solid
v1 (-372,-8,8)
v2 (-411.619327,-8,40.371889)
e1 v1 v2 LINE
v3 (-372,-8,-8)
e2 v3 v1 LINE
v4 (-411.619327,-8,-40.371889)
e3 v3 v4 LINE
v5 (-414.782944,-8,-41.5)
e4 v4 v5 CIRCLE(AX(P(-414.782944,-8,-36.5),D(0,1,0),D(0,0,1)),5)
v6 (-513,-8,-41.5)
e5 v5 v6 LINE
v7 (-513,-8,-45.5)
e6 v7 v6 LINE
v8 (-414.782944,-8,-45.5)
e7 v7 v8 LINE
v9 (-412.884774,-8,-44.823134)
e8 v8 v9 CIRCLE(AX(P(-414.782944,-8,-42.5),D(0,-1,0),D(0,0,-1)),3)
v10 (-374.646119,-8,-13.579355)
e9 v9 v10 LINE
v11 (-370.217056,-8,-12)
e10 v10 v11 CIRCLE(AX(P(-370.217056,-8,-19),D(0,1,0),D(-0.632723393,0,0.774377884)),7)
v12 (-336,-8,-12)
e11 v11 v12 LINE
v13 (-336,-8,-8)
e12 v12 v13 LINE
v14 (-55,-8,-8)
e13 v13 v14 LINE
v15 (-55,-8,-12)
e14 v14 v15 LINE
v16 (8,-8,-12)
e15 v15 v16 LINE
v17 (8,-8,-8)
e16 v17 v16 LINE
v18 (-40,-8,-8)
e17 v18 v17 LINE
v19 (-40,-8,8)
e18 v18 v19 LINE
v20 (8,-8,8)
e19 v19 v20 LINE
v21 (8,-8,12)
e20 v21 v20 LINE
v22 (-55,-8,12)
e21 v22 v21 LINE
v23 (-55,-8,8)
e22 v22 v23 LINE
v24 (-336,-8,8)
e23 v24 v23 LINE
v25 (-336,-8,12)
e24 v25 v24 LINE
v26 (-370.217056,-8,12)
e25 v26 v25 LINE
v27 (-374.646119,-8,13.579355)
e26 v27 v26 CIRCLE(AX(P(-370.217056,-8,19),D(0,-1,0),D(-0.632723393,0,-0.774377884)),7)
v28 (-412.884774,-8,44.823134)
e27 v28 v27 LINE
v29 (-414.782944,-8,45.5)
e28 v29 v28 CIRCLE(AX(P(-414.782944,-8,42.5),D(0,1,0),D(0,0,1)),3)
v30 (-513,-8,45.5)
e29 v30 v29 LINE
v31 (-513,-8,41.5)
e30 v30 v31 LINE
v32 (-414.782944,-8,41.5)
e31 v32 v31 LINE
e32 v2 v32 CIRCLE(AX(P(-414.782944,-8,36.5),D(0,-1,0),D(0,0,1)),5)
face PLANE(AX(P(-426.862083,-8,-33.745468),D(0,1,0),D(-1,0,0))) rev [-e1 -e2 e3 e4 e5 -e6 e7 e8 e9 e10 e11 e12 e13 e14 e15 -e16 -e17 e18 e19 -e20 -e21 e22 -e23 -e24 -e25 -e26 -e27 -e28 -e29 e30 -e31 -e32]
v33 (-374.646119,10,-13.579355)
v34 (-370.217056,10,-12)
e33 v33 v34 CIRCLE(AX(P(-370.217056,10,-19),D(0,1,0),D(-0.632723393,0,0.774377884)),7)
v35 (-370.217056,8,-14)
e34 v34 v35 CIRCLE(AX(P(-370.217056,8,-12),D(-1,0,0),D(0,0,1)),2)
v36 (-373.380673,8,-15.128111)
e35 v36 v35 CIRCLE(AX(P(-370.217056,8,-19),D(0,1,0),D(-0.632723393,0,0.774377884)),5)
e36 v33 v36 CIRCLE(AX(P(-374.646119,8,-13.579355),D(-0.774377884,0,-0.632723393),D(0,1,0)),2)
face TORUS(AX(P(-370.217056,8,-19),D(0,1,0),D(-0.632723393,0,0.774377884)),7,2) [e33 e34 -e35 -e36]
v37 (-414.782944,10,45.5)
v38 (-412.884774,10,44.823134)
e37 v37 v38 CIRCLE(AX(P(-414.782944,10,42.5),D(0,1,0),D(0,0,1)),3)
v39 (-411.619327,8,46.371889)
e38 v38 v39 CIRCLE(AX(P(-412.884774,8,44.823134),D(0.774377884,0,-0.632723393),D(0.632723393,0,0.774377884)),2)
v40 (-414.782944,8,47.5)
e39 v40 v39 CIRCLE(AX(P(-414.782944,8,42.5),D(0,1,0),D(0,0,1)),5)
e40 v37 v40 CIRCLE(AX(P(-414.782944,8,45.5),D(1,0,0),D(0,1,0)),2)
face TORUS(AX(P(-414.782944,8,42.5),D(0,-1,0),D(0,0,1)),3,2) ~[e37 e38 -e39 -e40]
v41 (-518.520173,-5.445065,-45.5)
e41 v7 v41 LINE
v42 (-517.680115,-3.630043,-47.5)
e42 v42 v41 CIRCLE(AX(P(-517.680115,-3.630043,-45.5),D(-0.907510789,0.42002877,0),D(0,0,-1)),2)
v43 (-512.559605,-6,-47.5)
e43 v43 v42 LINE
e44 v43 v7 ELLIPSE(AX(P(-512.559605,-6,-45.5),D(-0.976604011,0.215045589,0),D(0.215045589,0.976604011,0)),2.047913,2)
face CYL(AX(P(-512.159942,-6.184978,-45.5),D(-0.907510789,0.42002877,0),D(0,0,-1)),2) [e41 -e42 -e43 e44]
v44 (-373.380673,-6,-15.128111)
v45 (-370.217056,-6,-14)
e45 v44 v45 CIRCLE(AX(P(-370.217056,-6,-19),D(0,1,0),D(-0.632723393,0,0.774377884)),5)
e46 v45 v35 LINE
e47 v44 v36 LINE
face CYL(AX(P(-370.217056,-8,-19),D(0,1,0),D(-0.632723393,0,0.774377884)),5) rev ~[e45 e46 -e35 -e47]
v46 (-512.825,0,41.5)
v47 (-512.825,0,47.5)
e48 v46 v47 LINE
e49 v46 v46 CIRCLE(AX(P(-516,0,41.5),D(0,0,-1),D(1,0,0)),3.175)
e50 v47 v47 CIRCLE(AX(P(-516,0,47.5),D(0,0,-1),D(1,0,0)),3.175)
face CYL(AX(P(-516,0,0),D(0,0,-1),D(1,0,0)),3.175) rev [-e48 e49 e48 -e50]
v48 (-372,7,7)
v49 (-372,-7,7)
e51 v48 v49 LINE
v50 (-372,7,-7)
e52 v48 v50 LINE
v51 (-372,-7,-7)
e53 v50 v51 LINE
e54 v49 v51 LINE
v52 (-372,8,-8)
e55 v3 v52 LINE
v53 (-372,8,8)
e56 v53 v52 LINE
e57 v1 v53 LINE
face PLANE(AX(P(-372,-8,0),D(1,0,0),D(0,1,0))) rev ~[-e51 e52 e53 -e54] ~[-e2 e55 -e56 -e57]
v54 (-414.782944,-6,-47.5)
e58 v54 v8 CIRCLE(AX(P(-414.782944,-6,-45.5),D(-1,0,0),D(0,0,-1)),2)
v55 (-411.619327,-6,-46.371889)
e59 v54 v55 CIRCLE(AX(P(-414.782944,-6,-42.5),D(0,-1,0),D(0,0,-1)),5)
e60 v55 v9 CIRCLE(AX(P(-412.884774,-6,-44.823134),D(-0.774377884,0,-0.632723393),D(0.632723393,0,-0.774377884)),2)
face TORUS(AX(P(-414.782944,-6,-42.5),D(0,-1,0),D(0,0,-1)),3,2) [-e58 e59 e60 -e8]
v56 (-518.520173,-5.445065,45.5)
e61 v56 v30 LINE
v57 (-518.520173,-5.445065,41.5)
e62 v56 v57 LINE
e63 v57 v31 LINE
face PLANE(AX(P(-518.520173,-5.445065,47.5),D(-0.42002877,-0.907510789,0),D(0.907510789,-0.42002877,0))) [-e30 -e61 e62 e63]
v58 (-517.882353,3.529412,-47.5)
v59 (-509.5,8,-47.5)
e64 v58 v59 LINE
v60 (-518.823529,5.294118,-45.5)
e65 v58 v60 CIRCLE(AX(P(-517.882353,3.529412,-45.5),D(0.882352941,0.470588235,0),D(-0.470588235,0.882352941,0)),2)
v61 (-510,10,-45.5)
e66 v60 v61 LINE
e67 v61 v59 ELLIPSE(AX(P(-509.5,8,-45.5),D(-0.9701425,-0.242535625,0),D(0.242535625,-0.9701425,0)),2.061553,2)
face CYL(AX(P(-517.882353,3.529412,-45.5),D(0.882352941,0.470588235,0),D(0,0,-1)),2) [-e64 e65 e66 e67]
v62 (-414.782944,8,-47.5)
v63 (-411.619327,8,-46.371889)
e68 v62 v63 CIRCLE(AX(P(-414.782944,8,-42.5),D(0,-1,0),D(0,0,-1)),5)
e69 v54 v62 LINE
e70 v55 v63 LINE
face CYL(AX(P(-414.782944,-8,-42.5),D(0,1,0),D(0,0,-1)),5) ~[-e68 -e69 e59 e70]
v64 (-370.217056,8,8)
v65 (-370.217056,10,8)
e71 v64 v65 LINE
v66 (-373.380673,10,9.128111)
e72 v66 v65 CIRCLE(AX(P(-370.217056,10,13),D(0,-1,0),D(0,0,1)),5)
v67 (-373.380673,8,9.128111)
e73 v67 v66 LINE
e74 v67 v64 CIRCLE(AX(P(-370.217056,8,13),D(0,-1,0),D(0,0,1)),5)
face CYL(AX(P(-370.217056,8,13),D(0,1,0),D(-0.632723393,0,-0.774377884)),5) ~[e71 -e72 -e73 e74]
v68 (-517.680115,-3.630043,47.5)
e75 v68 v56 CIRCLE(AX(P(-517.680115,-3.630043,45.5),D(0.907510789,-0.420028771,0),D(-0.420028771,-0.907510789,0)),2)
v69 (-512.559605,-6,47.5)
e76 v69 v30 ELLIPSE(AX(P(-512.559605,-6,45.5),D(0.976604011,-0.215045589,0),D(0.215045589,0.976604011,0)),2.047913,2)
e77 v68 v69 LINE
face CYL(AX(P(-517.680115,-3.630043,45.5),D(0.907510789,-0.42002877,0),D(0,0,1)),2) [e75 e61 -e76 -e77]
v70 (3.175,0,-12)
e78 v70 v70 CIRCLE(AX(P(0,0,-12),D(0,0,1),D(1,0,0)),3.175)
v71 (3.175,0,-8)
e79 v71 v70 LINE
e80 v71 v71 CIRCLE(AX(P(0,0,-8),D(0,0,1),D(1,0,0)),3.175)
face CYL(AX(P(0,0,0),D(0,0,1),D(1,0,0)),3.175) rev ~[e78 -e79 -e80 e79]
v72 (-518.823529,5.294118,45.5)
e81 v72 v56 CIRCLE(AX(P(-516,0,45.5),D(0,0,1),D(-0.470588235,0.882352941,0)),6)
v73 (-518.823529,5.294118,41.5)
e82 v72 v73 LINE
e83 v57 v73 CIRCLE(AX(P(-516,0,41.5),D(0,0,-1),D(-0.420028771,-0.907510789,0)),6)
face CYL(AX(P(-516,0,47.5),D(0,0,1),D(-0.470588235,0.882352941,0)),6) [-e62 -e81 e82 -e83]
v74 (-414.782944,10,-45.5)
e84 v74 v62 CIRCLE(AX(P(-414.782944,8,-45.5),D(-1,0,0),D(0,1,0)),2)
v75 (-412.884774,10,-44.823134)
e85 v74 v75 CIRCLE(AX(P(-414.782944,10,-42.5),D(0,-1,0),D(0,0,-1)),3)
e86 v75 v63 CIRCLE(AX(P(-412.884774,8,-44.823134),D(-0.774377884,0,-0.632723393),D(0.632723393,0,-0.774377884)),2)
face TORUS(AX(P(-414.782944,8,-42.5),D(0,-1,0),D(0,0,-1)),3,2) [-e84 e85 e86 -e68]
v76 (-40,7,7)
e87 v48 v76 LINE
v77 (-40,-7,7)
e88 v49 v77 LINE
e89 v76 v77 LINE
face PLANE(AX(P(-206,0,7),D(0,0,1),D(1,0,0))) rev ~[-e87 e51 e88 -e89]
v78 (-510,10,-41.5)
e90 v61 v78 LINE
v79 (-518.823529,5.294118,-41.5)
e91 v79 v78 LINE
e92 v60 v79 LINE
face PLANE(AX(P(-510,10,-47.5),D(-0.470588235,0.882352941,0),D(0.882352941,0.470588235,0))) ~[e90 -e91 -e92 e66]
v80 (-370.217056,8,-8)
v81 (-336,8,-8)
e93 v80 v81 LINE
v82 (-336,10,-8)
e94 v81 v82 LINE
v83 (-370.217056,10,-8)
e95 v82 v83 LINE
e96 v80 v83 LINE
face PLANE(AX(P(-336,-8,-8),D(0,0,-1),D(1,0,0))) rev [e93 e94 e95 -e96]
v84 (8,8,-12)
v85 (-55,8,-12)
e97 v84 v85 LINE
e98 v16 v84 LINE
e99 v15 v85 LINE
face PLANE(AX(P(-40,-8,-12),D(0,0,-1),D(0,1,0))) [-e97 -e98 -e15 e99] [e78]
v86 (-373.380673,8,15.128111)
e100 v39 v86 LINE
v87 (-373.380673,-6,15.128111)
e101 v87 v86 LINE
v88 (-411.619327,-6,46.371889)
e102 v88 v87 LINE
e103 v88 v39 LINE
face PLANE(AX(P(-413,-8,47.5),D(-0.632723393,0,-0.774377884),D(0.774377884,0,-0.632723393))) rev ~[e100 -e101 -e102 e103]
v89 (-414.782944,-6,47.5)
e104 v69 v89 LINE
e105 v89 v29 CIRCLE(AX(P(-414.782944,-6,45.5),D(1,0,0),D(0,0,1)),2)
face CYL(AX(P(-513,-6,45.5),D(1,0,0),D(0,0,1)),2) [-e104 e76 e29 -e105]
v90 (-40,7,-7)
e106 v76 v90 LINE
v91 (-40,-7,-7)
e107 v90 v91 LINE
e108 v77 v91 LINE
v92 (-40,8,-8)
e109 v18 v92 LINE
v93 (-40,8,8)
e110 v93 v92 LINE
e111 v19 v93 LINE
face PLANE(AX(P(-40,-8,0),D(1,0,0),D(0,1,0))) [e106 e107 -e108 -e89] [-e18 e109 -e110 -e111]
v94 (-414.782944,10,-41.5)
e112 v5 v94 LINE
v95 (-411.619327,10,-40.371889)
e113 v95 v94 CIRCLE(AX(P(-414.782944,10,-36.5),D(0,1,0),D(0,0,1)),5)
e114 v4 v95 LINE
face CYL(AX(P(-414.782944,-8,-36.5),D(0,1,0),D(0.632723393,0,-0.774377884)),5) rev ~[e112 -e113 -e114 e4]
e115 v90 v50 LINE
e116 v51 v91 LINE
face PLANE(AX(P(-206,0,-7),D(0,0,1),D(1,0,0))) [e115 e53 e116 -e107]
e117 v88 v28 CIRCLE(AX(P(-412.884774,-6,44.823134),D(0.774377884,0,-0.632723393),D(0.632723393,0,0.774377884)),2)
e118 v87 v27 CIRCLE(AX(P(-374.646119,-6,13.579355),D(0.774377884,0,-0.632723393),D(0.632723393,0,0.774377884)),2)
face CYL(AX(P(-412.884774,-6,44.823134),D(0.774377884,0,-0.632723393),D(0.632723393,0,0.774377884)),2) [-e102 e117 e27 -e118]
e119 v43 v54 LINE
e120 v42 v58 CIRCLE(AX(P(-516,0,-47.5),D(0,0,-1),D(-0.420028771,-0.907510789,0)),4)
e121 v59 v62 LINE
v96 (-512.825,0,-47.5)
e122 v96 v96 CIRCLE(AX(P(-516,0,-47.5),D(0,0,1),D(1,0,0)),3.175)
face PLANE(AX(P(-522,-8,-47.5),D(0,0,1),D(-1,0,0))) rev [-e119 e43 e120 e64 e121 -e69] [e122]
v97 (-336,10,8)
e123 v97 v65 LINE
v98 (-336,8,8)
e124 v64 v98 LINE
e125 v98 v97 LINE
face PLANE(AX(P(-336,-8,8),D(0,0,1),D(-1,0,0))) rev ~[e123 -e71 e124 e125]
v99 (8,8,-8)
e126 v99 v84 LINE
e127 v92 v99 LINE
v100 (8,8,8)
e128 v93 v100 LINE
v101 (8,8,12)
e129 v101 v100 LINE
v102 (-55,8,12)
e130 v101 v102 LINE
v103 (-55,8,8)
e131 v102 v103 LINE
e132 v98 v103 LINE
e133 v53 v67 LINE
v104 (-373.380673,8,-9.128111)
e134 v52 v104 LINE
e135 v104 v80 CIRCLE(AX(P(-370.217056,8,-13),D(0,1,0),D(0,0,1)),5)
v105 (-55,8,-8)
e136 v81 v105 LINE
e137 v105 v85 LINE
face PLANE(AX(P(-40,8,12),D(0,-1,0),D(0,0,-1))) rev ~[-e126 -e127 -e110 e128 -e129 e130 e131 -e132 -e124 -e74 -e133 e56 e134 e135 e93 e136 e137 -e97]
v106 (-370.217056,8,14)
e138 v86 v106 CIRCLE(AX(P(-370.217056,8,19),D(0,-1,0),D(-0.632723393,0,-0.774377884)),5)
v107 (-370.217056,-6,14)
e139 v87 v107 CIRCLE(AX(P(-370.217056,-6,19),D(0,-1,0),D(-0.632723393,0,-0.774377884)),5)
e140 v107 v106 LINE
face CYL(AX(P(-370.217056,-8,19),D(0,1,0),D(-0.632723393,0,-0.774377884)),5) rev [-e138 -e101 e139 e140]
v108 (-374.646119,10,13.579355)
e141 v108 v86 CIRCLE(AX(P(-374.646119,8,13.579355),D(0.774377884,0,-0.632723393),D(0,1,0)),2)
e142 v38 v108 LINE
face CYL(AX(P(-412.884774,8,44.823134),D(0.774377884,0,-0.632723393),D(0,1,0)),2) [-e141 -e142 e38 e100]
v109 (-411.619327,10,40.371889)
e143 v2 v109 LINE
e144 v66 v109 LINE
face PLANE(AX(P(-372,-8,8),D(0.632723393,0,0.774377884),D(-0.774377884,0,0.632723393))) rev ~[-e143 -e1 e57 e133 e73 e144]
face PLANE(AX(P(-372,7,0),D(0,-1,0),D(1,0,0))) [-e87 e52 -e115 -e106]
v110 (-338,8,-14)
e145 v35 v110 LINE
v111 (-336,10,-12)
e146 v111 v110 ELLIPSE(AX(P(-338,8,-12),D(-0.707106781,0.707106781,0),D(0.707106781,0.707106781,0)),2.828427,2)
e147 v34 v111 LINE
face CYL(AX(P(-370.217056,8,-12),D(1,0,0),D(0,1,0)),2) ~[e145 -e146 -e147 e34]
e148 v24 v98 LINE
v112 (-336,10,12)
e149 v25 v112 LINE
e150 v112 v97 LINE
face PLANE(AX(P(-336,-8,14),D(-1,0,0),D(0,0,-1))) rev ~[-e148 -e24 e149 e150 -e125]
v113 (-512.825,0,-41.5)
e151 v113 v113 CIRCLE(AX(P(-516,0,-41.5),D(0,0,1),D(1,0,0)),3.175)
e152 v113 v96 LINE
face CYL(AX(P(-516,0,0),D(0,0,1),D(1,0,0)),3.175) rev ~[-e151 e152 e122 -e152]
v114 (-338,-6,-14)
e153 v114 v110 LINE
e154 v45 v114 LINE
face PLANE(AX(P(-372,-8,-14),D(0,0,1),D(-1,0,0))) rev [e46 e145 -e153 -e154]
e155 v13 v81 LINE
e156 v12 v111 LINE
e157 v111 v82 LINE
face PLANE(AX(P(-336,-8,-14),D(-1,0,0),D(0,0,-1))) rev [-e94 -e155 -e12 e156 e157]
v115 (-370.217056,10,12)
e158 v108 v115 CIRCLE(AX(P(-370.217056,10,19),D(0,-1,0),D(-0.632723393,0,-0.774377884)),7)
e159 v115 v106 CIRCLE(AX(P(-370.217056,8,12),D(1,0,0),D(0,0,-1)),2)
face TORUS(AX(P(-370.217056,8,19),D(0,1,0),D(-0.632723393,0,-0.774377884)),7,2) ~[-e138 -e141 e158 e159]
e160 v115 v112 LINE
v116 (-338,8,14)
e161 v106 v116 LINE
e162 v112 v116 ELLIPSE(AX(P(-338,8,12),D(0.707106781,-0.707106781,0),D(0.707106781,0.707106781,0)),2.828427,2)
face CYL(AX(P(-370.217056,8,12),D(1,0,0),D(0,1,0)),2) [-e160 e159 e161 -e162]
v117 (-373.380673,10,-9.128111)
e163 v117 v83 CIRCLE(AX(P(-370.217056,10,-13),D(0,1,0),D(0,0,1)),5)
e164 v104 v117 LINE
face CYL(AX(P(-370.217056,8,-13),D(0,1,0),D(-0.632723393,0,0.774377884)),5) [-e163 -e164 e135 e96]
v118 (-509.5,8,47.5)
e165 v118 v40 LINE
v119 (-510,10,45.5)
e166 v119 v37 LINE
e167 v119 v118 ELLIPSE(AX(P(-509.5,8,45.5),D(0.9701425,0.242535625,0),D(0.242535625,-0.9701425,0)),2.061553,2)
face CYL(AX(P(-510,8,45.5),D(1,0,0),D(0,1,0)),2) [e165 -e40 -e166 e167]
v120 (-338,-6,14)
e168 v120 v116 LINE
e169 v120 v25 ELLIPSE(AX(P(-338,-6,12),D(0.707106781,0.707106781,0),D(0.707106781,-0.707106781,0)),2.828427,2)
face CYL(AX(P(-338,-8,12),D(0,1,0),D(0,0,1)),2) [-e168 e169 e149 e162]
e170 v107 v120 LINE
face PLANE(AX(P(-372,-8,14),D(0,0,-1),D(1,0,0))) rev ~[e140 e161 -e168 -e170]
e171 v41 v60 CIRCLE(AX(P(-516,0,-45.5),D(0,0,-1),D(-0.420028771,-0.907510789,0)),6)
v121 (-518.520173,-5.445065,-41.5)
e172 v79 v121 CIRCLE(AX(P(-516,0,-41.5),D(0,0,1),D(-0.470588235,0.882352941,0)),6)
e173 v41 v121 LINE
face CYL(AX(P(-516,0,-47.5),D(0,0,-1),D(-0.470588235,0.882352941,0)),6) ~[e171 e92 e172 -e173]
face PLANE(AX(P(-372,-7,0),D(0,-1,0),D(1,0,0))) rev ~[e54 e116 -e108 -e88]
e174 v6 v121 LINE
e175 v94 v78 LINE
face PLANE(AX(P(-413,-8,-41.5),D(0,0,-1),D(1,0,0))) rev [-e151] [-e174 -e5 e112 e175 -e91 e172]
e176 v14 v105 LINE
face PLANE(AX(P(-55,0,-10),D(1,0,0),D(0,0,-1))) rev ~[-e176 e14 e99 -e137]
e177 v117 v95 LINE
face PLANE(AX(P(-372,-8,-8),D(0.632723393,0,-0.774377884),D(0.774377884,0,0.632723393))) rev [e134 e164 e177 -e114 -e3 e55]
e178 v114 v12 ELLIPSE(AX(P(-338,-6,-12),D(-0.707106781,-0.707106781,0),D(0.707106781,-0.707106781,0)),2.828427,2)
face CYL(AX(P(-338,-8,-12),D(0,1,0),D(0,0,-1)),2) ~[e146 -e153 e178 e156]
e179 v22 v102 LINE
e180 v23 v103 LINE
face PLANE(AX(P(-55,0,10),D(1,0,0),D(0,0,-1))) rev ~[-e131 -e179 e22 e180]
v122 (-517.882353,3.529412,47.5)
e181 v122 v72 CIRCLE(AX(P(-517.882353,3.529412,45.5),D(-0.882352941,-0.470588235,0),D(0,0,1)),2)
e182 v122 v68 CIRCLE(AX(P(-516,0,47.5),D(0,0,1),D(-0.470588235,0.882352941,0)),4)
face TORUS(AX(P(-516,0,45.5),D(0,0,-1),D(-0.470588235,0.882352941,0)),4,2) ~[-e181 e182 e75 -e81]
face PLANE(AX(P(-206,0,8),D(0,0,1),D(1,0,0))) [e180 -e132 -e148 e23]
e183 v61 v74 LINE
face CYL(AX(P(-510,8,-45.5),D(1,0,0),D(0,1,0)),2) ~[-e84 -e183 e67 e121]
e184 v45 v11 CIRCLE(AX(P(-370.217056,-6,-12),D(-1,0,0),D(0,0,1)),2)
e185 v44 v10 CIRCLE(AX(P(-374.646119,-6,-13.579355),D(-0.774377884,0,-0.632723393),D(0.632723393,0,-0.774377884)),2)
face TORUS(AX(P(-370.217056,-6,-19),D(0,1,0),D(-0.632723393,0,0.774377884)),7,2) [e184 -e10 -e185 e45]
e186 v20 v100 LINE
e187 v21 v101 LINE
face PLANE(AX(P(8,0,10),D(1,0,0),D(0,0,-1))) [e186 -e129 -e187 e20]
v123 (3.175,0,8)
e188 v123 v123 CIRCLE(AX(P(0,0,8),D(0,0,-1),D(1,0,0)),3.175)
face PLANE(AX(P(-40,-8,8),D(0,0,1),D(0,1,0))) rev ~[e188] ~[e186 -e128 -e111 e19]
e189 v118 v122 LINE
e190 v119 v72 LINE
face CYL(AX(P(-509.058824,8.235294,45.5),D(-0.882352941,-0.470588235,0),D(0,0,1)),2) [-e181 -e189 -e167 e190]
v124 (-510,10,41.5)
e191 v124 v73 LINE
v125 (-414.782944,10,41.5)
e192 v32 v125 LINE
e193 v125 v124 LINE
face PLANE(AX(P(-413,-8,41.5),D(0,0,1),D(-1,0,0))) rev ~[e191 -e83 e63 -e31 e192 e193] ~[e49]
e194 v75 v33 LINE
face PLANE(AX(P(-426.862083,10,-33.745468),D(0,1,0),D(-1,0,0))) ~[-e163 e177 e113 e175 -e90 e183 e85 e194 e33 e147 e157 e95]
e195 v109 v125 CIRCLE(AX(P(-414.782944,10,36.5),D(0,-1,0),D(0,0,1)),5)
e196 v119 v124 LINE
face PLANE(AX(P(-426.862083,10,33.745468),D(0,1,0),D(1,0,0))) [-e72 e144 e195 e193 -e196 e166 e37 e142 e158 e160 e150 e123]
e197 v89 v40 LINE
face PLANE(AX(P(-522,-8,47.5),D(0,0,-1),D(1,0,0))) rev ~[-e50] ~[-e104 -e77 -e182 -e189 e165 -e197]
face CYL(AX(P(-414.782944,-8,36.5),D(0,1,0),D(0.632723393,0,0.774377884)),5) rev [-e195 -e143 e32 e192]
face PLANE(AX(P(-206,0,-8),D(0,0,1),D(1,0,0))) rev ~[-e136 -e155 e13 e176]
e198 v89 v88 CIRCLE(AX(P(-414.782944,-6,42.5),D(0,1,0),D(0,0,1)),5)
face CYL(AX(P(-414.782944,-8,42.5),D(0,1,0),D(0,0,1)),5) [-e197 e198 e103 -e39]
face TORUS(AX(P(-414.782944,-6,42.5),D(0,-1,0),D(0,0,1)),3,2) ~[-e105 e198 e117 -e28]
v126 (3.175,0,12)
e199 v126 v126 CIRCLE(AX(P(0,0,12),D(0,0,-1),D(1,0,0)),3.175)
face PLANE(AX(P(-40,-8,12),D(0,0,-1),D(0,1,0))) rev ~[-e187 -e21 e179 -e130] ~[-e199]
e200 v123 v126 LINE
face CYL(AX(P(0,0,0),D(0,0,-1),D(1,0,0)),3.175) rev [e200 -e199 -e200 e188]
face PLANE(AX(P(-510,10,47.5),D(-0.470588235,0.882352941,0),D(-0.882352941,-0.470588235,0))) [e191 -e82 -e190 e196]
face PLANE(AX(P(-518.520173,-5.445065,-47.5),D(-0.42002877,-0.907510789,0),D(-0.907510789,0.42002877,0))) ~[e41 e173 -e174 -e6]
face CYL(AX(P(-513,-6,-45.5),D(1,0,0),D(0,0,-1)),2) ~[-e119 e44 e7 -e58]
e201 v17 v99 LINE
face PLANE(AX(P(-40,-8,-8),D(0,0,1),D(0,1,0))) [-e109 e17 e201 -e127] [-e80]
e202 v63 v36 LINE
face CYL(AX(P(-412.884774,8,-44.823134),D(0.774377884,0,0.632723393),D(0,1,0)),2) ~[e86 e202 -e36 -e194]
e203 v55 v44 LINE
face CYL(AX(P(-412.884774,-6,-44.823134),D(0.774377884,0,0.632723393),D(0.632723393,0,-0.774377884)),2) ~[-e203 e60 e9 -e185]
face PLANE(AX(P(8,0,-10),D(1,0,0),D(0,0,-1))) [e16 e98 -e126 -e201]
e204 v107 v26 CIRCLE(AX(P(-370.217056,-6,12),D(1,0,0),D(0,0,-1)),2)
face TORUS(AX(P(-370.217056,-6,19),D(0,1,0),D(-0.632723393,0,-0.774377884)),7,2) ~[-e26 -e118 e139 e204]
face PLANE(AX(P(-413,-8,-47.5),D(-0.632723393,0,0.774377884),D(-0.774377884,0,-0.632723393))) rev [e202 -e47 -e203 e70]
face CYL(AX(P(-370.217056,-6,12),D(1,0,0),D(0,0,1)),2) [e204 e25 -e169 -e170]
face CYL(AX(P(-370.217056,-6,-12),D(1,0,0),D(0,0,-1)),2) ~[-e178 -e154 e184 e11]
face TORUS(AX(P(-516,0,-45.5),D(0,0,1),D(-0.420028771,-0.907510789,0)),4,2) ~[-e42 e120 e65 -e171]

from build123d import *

# Parameters (mm, degrees)
SKETCH1_W                = 332
SKETCH1_H                = 16
BOSS_EXTRUDE1_DEPTH      = 8
SHELL1_T                 = -1
SKETCH2_W                = 4
SKETCH2_H                = 16
BOSS_EXTRUDE2_DEPTH      = 48
BOSS_EXTRUDE2_DEPTH_BACK = 15
BOSS_EXTRUDE3_START      = -16
BOSS_EXTRUDE3_DEPTH      = 18
CUT_EXTRUDE1_DEPTH       = 40
FILLET1_R                = 5
FILLET2_R                = 2
FILLET1_OF_MIRROR1_R     = 5
FILLET2_OF_MIRROR1_R     = 2
SKETCH1_3_R              = 3.175
CUT_EXTRUDE2_DEPTH       = 48.5
CUT_EXTRUDE2_DEPTH_BACK  = 48.5


with BuildPart() as part:
    # Sketch1 → Boss-Extrude1 (new body, symmetric)
    with BuildSketch(Plane.XY):
        with Locations((-206, 0)):
            Rectangle(SKETCH1_W, SKETCH1_H)
    extrude(amount=BOSS_EXTRUDE1_DEPTH, both=True)

    # Shell1
    shell1_openings = [part.faces().sort_by_distance(p)[0] for p in [
        (-40, 0, 0),
        (-372, 0, 0),
    ]]
    offset(amount=SHELL1_T, openings=shell1_openings, kind=Kind.INTERSECTION)

    # Sketch2 → Boss-Extrude2 (add, two sides)
    with BuildSketch(Plane(origin=(-40, 0, 0), x_dir=(0, 0, -1), z_dir=(1, 0, 0))) as boss_extrude2_sk:
        with Locations((-10, 0)):
            Rectangle(SKETCH2_W, SKETCH2_H)
        with Locations((10, 0)):
            Rectangle(SKETCH2_W, SKETCH2_H)
    extrude(amount=BOSS_EXTRUDE2_DEPTH)
    extrude(boss_extrude2_sk.sketch, amount=-BOSS_EXTRUDE2_DEPTH_BACK)

    # Sketch3 → Boss-Extrude3 (add)
    with BuildSketch(Plane(origin=(0, 8, 0), x_dir=(1, 0, 0), z_dir=(0, 1, 0)).offset(BOSS_EXTRUDE3_START)):
        Polygon((-336, -14), (-336, -8), (-372, -8), (-413, -41.5), (-522, -41.5), (-522, -47.5), (-413, -47.5), (-372, -14), align=None)
    boss_extrude3 = extrude(amount=BOSS_EXTRUDE3_DEPTH)

    # Sketch4 → Cut-Extrude1 (cut)
    with BuildSketch(Plane.XY.offset(47.5)):
        with BuildLine():
            Line((-510, 10), (-518.823529412, 5.294117647))
            ThreePointArc((-518.823529412, 5.294117647), (-521.99760764, -0.169418391), (-518.520172623, -5.445064733))
            Line((-518.520172623, -5.445064733), (-513, -8))
            Line((-513, -8), (-540.277730866, -26.369352849))
            Line((-540.277730866, -26.369352849), (-542.314823198, 28.070412495))
            Line((-542.314823198, 28.070412495), (-510, 10))
        make_face()
    cut_extrude1 = extrude(amount=-CUT_EXTRUDE1_DEPTH, mode=Mode.SUBTRACT)

    # Fillet1
    fillet1_edges = [part.edges().sort_by_distance(p)[0] for p in [
        (-413, 1, 41.5),
        (-413, 1, 47.5),
        (-372, 1, 14),
        (-372, 9, 8),
    ]]
    fillet(fillet1_edges, radius=FILLET1_R)

    # Fillet2
    fillet2_edges = [part.edges().sort_by_distance(p)[0] for p in [
        (-462.391472159, 10, 47.5),
        (-392.5, 10, 30.75),
        (-413.103576447, 10, 47.209535386),
        (-353.108527841, -8, 14),
        (-392.5, -8, 30.75),
        (-413.103576447, -8, 47.209535386),
        (-371.896423553, -8, 14.290464614),
        (-371.896423553, 10, 14.290464614),
        (-353.108527841, 10, 14),
        (-336, 1, 14),
        (-463.891472159, -8, 47.5),
        (-521.99760764, -0.169418391, 47.5),
        (-514.411764706, 7.647058824, 47.5),
        (-515.760086311, -6.722532367, 47.5),
    ]]
    fillet(fillet2_edges, radius=FILLET2_R)

    # Mirror1: Boss-Extrude3, Cut-Extrude1 across plane
    add(boss_extrude3.mirror(Plane.XY))
    add(cut_extrude1.mirror(Plane.XY), mode=Mode.SUBTRACT)

    # Fillet1 of Mirror1
    fillet1_of_mirror1_edges = [part.edges().sort_by_distance(p)[0] for p in [
        (-413, 1, -41.5),
        (-413, 1, -47.5),
        (-372, 1, -14),
        (-372, 9, -8),
    ]]
    fillet(fillet1_of_mirror1_edges, radius=FILLET1_OF_MIRROR1_R)

    # Fillet2 of Mirror1
    fillet2_of_mirror1_edges = [part.edges().sort_by_distance(p)[0] for p in [
        (-462.391472159, 10, -47.5),
        (-392.5, 10, -30.75),
        (-413.103576447, 10, -47.209535386),
        (-353.108527841, -8, -14),
        (-392.5, -8, -30.75),
        (-413.103576447, -8, -47.209535386),
        (-371.896423553, -8, -14.290464614),
        (-371.896423553, 10, -14.290464614),
        (-353.108527841, 10, -14),
        (-336, 1, -14),
        (-463.891472159, -8, -47.5),
        (-521.99760764, -0.169418391, -47.5),
        (-514.411764706, 7.647058824, -47.5),
        (-515.760086311, -6.722532367, -47.5),
    ]]
    fillet(fillet2_of_mirror1_edges, radius=FILLET2_OF_MIRROR1_R)

    # Sketch1<3> → Cut-Extrude2 (cut, two sides)
    with BuildSketch(Plane.XY) as cut_extrude2_sk:
        with Locations((-516, 0)):
            Circle(SKETCH1_3_R)
        Circle(SKETCH1_3_R)
    extrude(amount=CUT_EXTRUDE2_DEPTH, mode=Mode.SUBTRACT)
    extrude(cut_extrude2_sk.sketch, amount=-CUT_EXTRUDE2_DEPTH_BACK, mode=Mode.SUBTRACT)


solid = part.part
